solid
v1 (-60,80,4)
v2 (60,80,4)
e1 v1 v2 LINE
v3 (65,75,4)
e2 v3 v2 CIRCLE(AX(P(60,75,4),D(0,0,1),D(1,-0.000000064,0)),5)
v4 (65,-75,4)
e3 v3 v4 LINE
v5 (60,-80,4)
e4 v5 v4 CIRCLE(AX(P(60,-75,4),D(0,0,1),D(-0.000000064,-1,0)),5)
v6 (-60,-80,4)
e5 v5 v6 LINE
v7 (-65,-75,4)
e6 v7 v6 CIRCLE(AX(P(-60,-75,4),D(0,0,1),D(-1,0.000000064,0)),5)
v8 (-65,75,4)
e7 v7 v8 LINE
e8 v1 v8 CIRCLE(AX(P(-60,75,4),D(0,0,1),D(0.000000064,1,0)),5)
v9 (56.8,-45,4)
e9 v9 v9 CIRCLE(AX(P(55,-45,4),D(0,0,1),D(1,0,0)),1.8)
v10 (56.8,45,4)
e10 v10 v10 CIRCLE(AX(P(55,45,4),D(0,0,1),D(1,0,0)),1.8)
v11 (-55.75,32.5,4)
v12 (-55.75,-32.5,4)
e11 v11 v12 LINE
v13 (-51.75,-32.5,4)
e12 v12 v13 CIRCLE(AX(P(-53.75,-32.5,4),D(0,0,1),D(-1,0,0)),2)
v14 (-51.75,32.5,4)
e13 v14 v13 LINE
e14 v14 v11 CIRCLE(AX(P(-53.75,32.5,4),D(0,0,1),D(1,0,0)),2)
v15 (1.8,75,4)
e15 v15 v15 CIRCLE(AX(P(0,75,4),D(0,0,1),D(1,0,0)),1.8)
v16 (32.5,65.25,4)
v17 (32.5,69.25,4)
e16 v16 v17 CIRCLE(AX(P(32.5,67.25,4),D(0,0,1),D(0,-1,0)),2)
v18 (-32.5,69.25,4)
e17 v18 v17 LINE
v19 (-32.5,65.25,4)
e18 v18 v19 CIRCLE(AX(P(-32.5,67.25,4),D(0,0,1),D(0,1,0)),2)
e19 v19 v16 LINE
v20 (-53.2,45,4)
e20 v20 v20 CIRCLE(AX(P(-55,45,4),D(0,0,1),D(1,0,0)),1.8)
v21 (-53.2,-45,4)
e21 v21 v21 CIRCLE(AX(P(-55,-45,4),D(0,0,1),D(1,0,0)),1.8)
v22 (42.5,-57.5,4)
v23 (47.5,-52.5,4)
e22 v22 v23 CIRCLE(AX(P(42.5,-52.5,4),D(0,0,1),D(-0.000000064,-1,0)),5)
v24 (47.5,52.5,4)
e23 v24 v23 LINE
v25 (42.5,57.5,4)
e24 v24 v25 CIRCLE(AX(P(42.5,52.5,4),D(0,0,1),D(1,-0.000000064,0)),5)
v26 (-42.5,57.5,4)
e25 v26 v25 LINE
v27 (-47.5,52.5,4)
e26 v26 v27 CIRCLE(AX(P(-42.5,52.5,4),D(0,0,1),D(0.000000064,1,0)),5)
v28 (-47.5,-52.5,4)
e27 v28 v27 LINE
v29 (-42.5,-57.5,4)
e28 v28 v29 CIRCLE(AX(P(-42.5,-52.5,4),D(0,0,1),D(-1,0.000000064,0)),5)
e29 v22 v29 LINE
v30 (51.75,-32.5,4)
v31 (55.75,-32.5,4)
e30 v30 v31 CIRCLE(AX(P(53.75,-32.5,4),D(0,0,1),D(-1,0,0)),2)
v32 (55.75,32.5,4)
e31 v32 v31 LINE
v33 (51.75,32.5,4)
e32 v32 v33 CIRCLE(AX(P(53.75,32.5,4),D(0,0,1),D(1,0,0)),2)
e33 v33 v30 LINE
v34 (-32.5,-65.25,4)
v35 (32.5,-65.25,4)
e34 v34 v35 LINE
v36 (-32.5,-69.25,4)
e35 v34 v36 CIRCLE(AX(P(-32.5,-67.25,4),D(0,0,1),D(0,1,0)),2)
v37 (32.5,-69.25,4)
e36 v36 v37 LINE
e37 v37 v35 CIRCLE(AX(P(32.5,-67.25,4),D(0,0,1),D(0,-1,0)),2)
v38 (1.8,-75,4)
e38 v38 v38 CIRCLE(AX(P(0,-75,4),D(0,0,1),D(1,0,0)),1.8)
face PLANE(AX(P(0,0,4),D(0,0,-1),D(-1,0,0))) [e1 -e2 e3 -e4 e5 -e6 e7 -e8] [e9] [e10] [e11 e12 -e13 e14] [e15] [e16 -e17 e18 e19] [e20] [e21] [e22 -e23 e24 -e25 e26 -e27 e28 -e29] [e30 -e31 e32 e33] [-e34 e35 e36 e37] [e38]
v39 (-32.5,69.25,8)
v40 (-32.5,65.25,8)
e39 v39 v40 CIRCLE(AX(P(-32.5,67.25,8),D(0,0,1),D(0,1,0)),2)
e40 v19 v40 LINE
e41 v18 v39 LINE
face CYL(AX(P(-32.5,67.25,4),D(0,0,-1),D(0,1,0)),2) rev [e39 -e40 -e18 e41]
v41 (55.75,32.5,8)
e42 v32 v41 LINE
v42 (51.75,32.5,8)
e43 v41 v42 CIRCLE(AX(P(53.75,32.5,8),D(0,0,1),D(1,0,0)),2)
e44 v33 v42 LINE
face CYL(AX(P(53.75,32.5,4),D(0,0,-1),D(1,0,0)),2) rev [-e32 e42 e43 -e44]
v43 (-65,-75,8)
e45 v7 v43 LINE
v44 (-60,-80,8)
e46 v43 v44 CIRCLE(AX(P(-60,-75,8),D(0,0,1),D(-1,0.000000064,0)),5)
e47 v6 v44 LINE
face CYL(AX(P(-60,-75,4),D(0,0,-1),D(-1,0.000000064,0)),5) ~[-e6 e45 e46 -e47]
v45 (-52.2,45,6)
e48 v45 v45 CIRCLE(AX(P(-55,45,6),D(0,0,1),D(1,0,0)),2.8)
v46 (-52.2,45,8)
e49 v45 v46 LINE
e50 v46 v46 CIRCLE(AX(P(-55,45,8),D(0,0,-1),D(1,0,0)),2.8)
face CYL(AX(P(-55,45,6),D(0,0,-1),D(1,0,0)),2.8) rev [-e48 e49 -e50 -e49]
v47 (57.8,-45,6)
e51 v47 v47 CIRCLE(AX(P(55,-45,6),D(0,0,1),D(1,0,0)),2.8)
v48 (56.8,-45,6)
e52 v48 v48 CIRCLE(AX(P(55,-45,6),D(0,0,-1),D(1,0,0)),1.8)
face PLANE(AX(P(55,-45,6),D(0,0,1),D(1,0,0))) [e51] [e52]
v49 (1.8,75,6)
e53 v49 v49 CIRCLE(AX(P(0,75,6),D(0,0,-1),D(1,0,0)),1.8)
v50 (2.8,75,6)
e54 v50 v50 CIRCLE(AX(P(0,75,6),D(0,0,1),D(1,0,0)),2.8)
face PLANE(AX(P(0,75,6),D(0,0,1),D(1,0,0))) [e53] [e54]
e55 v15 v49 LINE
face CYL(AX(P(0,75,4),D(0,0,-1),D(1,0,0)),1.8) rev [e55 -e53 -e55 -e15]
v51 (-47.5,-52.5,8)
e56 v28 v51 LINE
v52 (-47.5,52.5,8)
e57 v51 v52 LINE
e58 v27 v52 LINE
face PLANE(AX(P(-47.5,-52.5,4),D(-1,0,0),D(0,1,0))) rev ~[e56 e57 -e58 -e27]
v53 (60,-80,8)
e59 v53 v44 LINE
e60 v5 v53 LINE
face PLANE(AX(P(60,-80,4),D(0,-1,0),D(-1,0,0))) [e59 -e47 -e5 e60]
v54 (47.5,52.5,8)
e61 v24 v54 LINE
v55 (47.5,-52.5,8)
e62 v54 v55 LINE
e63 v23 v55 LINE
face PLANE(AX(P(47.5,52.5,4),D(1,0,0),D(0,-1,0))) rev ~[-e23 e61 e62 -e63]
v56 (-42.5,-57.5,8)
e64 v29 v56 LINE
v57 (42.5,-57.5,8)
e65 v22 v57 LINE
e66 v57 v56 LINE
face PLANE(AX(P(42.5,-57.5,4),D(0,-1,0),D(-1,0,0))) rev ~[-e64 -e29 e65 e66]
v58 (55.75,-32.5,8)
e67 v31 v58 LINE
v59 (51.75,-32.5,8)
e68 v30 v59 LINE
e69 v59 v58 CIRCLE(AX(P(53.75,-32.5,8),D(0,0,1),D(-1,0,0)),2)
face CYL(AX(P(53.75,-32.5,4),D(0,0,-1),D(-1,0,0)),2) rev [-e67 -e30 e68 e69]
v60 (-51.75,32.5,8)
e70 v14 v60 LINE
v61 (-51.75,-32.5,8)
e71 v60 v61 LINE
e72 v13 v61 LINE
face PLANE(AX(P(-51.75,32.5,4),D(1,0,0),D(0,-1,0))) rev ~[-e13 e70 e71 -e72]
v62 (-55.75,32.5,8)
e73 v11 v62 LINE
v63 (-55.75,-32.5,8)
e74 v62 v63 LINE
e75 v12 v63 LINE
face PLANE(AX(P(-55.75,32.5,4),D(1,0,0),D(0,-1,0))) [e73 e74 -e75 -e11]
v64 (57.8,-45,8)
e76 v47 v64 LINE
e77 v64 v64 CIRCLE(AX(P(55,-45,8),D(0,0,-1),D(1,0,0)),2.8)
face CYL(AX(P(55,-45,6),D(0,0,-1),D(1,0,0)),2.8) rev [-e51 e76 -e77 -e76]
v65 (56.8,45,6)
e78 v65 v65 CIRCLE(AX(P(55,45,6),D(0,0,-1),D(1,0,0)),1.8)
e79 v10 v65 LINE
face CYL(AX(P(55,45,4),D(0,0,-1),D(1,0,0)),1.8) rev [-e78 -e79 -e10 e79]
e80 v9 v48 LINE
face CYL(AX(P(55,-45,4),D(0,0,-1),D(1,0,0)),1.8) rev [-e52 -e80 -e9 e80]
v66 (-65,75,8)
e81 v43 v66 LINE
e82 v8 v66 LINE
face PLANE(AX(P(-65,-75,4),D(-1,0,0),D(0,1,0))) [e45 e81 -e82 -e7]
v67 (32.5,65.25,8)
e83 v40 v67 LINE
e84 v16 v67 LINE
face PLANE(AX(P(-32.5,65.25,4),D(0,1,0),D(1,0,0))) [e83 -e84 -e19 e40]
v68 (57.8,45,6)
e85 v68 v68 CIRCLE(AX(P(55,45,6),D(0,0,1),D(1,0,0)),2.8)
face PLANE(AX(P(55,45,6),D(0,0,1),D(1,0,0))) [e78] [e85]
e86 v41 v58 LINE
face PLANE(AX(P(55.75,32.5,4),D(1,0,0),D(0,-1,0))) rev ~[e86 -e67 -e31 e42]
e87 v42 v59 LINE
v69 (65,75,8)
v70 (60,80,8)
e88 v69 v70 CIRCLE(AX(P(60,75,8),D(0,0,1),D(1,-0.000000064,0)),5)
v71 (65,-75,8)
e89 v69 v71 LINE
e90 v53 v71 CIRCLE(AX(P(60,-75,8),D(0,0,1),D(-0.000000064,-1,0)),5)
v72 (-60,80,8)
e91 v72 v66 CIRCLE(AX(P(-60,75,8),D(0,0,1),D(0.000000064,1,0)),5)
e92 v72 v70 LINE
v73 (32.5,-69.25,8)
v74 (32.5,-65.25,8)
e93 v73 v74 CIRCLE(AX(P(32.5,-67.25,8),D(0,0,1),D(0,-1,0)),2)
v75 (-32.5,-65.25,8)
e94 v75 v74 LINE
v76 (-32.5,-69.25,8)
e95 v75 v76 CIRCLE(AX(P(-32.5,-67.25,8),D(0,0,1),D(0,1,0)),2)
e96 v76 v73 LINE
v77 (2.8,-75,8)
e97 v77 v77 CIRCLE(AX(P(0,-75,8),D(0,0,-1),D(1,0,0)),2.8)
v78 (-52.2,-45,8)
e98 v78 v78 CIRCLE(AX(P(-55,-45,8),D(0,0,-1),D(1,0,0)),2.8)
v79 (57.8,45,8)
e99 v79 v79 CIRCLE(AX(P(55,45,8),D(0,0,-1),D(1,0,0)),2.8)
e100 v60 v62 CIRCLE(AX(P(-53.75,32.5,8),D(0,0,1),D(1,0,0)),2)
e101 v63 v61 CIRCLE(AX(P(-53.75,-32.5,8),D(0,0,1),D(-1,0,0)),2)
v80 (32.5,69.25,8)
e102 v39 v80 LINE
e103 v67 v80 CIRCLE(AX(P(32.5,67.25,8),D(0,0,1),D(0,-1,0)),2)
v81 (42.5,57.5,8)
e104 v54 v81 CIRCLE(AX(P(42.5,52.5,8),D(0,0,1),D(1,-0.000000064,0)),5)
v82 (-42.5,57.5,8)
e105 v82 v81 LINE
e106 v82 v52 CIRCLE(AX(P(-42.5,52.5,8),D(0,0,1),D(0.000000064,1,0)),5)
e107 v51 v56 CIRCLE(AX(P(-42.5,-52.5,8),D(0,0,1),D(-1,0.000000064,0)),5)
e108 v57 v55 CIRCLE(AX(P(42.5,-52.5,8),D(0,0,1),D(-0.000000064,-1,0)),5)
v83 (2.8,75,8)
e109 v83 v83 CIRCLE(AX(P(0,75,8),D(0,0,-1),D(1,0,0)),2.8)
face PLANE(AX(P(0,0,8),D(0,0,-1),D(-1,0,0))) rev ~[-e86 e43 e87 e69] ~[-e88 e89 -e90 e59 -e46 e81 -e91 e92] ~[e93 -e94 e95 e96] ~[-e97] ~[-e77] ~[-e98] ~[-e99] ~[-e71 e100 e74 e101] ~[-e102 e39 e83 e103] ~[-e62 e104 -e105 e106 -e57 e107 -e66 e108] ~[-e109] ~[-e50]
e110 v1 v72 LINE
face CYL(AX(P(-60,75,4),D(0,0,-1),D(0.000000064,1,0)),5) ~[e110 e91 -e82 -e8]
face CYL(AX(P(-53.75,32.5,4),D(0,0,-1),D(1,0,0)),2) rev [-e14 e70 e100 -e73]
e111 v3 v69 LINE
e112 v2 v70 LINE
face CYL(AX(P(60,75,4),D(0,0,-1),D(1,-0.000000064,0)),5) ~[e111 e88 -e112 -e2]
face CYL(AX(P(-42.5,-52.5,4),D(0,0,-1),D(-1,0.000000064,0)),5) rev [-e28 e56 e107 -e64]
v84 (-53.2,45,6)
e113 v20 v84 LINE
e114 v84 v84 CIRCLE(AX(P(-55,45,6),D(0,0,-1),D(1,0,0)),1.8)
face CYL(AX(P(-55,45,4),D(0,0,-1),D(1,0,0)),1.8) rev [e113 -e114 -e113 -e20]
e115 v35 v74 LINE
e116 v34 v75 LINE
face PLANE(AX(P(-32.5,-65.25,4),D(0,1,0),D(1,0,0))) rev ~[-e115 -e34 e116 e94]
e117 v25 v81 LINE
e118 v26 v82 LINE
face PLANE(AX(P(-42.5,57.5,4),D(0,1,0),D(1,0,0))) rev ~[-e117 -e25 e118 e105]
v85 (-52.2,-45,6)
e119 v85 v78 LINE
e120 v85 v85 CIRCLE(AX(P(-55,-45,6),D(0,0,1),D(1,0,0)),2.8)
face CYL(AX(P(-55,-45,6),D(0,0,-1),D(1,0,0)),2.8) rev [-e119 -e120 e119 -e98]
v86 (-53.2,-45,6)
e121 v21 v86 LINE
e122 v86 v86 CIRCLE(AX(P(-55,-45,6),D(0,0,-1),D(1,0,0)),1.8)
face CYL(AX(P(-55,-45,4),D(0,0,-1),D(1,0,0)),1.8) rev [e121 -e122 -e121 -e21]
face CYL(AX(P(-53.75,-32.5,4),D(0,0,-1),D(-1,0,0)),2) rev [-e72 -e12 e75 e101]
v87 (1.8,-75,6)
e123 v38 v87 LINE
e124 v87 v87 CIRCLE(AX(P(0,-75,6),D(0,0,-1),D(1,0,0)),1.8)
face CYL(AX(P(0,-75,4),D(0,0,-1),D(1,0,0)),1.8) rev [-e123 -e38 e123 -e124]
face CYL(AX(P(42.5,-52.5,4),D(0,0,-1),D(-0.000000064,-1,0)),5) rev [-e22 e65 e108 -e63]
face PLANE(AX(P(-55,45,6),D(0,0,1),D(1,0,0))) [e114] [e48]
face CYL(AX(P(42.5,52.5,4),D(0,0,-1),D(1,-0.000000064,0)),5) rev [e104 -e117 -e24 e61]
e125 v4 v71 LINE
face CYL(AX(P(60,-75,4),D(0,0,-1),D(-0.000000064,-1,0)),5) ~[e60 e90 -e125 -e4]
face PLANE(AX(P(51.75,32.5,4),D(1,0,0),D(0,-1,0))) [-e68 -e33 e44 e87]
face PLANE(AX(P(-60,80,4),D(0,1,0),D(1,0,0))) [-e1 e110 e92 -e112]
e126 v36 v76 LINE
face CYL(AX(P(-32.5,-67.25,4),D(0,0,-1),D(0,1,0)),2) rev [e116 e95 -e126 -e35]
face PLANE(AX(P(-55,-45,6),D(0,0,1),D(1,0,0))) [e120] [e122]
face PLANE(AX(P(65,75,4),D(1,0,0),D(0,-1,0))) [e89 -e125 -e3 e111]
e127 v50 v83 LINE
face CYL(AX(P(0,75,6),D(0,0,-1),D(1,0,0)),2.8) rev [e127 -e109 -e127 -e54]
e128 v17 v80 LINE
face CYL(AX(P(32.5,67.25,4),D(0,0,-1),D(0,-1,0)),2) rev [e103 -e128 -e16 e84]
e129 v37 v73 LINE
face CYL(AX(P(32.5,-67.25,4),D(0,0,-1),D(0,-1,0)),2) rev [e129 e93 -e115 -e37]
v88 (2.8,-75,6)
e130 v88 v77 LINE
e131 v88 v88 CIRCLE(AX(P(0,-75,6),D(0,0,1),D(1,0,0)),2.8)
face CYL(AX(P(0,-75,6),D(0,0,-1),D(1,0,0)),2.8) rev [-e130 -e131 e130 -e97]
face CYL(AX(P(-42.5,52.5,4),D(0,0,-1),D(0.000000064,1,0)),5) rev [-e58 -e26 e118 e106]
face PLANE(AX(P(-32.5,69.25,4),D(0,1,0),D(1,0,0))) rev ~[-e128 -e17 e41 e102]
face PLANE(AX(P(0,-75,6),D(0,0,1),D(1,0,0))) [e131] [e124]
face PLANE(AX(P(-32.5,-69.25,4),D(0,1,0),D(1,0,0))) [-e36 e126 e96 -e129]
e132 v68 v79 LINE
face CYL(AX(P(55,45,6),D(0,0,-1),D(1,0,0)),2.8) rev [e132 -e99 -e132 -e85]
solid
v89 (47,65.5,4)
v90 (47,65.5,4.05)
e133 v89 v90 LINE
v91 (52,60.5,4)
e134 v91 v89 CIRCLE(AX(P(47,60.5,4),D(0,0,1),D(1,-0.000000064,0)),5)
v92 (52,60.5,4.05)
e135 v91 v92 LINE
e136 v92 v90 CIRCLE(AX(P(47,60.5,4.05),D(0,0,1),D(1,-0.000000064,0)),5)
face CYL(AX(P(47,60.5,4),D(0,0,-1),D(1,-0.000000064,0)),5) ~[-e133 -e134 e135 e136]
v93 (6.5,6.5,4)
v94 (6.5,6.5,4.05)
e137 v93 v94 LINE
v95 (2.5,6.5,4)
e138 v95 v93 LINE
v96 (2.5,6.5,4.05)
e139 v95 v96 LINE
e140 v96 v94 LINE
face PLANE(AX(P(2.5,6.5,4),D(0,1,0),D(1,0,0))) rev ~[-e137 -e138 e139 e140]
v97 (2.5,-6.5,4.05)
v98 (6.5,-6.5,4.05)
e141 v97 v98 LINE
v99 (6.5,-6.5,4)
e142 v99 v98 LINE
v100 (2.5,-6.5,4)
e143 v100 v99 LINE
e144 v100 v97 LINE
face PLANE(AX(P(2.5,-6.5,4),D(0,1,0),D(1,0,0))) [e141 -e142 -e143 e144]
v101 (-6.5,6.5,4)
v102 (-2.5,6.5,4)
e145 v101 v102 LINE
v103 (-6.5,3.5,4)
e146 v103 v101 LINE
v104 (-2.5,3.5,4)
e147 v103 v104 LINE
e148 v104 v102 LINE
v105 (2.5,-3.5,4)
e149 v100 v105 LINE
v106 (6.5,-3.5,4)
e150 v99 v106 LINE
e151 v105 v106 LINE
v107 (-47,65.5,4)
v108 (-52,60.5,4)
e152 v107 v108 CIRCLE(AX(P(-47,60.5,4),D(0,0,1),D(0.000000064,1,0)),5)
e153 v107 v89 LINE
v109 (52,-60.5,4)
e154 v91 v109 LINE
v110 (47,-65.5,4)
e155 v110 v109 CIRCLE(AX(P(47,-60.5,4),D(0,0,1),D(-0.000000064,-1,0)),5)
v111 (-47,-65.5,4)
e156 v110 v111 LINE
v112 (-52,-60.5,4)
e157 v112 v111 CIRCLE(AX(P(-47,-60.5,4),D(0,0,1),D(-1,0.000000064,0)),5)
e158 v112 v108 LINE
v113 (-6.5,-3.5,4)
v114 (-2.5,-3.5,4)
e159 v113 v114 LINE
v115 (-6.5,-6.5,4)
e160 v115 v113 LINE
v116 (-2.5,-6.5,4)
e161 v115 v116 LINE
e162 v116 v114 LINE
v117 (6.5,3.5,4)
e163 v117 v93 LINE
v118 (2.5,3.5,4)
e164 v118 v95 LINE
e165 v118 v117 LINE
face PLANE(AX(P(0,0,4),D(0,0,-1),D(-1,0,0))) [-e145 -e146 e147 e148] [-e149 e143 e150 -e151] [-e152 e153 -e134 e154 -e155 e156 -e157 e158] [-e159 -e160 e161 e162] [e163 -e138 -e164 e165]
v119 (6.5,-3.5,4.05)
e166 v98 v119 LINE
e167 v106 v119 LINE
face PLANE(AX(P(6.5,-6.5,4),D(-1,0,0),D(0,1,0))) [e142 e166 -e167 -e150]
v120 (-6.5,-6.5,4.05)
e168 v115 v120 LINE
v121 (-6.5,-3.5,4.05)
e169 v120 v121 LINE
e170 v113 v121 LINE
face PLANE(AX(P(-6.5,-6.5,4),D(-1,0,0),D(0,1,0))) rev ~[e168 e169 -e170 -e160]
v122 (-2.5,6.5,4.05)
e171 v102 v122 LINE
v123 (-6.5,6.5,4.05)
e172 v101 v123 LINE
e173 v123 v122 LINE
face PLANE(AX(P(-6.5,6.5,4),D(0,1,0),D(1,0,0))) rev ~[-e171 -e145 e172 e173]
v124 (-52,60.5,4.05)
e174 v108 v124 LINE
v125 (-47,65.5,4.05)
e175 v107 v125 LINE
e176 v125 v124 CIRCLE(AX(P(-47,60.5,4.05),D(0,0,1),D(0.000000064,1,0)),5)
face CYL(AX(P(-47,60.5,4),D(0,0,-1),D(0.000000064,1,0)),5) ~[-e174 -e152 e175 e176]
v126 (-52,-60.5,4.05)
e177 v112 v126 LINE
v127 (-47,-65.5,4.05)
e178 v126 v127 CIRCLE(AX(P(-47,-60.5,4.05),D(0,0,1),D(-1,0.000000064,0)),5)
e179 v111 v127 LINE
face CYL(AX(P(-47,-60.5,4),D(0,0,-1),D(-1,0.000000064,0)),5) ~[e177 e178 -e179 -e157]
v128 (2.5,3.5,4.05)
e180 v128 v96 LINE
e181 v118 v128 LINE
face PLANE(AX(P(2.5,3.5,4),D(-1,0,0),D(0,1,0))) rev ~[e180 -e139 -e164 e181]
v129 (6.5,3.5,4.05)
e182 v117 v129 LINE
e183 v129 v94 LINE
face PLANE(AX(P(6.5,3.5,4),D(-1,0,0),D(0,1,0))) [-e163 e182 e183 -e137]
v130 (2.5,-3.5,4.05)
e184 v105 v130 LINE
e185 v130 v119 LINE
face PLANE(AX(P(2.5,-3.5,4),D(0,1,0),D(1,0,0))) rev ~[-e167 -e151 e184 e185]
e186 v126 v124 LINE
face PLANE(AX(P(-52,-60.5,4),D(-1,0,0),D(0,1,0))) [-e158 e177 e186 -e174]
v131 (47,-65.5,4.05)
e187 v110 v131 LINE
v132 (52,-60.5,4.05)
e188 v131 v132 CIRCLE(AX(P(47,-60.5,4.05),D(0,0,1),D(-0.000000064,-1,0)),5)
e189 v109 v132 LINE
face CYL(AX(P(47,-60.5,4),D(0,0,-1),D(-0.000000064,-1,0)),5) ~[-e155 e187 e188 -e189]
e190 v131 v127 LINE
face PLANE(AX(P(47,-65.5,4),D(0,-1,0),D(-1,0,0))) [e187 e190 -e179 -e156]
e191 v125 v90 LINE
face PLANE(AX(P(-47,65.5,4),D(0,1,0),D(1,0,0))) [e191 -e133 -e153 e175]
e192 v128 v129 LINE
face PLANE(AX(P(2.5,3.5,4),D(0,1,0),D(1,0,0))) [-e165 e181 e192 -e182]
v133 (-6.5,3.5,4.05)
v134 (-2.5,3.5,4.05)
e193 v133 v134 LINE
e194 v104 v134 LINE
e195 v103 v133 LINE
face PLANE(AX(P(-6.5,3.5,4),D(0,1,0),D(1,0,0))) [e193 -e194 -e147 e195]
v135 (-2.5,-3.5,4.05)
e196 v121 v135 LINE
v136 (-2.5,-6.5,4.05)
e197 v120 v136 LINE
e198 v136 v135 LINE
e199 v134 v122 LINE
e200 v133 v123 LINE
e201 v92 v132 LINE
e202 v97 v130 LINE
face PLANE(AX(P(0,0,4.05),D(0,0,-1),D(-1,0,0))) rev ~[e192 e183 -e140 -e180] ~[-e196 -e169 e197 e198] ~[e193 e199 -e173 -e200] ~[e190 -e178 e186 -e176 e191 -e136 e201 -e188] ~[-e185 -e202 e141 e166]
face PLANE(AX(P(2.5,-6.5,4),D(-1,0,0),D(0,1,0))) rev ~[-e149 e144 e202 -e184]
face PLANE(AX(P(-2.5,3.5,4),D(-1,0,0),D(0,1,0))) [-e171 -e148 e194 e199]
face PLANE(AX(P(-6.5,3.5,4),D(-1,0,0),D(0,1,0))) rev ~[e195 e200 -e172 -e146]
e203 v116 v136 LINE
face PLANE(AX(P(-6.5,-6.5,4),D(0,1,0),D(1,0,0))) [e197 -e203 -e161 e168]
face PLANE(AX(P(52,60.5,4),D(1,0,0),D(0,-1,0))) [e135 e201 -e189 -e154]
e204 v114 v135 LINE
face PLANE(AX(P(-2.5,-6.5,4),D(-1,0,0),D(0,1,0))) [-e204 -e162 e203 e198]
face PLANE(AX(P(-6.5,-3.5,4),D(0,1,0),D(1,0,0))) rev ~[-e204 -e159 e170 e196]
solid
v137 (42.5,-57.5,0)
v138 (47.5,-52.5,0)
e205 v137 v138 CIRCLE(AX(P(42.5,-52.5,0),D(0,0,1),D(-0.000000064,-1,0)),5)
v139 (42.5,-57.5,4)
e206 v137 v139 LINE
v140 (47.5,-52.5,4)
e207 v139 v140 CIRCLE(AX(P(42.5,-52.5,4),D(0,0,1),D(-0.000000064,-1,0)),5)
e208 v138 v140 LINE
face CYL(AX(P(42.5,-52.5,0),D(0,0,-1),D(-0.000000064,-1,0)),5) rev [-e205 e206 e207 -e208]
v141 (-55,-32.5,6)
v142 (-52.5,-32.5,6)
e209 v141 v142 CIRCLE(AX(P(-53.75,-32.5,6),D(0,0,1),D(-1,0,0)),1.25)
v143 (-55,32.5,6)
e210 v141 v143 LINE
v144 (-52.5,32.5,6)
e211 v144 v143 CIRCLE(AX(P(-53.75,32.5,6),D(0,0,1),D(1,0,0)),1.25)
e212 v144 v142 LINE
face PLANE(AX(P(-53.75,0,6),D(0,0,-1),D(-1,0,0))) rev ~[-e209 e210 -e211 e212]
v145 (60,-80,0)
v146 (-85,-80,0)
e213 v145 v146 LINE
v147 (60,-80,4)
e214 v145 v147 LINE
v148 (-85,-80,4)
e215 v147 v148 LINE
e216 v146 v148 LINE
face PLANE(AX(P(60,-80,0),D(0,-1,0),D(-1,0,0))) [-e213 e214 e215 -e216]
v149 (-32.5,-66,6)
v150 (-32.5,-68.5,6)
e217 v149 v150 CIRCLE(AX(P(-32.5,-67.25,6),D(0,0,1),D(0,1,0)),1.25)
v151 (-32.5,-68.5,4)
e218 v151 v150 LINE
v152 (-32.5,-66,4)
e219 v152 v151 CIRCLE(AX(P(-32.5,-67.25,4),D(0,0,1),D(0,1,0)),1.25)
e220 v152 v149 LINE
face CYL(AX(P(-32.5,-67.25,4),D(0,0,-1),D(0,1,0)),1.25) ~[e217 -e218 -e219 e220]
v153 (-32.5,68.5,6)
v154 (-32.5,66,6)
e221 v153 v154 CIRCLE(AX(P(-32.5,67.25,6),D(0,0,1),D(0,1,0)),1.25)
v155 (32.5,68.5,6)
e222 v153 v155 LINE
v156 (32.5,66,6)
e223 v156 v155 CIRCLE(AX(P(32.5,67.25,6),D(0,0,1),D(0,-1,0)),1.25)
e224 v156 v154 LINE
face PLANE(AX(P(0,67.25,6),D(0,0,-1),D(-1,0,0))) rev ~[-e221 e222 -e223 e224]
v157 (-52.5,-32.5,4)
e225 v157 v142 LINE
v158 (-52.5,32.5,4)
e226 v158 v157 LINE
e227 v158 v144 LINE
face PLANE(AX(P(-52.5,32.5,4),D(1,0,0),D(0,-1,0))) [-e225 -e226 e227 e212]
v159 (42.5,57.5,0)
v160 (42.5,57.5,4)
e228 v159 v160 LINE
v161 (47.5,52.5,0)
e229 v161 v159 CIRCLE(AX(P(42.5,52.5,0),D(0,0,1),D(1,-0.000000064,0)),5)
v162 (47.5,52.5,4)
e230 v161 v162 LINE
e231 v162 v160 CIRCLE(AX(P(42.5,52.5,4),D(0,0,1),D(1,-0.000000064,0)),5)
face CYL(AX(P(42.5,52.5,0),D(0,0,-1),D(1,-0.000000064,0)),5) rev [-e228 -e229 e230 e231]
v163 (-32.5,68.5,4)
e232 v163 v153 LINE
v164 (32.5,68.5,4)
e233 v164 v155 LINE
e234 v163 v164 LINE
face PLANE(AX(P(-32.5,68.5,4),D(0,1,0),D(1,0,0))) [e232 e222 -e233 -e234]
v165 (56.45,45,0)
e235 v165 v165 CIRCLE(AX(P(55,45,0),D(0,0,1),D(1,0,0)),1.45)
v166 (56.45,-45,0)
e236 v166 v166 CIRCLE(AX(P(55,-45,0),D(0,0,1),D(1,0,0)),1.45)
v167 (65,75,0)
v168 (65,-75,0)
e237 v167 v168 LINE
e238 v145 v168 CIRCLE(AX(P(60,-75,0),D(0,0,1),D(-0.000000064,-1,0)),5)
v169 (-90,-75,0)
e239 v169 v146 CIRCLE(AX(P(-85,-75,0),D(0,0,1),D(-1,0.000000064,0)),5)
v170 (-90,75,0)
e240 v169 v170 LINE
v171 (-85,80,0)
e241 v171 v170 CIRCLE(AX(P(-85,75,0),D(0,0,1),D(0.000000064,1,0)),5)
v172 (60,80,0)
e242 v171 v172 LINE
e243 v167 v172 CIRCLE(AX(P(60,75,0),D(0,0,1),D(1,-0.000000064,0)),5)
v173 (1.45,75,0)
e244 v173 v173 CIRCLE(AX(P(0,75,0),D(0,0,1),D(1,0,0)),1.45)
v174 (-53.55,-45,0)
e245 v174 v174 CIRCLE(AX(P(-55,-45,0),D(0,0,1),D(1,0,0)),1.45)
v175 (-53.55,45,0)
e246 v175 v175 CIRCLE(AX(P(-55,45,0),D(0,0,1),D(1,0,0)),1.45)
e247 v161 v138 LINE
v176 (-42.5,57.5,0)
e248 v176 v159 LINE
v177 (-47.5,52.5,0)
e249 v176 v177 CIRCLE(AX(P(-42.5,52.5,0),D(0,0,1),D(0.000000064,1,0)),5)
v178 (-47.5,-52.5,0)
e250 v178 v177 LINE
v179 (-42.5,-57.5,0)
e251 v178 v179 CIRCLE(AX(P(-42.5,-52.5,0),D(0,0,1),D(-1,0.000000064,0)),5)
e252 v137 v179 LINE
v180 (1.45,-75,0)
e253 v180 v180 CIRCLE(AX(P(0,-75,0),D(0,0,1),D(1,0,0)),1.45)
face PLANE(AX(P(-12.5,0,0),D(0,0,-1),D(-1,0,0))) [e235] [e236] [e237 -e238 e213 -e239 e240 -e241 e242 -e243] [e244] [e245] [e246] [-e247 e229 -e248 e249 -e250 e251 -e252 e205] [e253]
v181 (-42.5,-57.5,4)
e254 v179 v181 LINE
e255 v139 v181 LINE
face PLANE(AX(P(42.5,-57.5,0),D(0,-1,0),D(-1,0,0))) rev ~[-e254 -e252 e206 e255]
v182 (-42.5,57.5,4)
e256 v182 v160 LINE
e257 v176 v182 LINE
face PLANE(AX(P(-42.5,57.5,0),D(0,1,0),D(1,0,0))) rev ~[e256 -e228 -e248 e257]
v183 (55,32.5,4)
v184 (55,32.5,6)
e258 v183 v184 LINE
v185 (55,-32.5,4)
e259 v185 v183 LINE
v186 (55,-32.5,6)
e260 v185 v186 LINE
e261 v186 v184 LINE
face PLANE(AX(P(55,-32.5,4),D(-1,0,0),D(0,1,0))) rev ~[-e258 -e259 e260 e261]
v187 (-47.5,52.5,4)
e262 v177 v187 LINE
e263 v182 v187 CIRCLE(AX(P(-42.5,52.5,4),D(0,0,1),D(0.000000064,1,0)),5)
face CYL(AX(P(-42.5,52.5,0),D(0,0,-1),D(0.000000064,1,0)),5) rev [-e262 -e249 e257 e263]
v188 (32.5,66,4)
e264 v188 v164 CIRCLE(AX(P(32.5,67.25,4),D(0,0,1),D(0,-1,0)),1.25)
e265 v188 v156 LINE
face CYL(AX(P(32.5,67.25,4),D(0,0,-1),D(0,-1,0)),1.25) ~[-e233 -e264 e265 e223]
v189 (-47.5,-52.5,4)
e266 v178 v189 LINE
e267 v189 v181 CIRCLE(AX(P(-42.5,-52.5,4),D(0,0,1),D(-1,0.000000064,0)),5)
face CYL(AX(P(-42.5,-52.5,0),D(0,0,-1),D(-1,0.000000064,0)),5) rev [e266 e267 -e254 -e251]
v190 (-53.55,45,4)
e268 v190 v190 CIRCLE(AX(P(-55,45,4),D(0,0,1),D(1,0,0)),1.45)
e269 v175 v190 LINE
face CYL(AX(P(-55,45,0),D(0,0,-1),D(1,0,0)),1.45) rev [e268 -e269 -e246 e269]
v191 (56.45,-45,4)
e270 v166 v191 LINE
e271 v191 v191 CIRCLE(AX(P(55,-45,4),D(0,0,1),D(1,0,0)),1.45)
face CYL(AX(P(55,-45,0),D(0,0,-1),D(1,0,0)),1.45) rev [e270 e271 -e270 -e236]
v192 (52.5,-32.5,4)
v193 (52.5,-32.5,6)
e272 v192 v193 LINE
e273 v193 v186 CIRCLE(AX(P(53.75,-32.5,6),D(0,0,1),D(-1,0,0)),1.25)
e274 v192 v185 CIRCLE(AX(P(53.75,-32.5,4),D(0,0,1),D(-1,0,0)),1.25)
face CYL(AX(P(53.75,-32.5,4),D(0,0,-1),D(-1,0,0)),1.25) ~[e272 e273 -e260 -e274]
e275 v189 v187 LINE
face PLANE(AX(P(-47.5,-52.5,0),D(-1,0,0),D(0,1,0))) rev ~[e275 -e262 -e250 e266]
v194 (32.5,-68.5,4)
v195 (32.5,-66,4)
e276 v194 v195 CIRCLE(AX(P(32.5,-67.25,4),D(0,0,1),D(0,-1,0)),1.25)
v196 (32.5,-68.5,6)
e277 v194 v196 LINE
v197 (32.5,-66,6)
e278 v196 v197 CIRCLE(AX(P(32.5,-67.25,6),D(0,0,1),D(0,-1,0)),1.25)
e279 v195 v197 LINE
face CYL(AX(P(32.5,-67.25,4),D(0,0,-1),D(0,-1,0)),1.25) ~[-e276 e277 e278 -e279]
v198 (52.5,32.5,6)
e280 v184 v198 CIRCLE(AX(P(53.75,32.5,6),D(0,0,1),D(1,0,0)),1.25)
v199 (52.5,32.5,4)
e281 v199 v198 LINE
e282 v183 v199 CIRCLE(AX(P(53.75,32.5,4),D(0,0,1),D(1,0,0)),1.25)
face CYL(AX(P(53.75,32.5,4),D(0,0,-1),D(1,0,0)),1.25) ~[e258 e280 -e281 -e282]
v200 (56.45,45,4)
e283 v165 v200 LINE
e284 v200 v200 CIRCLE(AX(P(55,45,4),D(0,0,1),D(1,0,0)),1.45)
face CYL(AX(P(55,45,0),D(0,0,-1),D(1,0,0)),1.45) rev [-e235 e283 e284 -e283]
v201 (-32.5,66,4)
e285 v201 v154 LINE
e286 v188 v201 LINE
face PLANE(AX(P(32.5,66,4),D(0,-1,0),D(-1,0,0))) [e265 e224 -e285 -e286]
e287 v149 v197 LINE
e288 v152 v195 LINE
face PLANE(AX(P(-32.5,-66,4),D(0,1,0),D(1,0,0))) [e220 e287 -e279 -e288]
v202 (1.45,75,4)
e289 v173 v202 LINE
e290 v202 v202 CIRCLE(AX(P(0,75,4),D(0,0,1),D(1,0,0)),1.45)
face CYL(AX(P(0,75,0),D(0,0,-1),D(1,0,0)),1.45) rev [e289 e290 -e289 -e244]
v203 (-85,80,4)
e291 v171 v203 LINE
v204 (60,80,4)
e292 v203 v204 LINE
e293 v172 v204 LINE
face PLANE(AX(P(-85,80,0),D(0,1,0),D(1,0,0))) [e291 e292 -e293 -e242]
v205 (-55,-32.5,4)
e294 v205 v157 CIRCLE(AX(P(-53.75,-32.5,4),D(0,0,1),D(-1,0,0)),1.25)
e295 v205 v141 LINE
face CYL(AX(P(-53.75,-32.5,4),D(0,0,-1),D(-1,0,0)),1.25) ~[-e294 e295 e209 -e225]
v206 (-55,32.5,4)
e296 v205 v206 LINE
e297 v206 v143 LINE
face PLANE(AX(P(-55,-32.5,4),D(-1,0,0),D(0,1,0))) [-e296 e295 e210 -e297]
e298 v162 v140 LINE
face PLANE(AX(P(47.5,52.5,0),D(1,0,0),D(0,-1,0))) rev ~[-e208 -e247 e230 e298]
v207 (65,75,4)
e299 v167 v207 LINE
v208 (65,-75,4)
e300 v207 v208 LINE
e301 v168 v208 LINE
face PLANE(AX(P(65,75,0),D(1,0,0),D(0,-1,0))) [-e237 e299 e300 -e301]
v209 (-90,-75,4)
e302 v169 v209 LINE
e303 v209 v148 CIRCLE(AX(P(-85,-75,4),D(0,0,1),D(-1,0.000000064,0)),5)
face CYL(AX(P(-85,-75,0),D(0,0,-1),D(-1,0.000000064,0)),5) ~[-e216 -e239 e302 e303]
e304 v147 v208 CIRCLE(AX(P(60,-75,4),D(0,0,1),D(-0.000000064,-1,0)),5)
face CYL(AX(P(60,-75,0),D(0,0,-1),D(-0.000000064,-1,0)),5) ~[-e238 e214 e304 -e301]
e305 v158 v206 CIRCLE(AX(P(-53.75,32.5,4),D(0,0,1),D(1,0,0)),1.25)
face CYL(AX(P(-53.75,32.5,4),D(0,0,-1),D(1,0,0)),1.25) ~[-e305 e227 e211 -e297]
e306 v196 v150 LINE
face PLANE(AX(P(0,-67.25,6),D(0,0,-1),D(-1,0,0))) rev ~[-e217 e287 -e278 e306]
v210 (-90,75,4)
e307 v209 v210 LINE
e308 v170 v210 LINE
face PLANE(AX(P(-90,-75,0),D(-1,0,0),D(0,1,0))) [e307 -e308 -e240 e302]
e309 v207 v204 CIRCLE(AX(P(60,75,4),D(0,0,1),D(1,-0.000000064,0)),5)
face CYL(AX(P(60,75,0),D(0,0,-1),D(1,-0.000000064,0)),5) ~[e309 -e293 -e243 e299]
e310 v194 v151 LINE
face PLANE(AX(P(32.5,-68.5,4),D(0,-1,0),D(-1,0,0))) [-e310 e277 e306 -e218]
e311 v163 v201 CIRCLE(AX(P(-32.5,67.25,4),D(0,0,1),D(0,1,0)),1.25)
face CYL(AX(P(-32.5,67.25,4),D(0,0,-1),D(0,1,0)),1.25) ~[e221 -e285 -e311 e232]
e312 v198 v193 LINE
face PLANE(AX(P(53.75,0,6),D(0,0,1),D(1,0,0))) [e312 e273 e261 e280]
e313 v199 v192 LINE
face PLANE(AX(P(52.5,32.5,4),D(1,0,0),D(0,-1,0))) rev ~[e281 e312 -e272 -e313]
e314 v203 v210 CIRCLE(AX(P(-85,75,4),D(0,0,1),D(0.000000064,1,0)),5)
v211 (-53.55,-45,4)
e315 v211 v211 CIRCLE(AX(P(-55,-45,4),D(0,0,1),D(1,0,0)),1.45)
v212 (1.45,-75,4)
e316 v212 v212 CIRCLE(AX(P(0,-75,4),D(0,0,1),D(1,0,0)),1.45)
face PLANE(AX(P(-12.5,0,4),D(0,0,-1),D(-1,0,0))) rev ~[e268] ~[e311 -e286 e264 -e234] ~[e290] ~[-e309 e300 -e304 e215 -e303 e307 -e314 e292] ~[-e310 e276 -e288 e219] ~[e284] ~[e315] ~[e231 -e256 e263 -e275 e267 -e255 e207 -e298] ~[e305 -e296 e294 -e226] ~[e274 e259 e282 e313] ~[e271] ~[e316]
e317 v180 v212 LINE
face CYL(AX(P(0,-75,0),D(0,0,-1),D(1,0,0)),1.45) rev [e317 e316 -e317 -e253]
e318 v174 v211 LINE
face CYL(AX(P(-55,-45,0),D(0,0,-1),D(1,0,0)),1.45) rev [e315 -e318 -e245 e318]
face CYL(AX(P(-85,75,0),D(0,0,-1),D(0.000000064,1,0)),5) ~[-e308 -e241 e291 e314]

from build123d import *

# Parameters (mm, degrees)
SKETCH_W         = 4
SKETCH_H         = 3
EXTRUDE_DEPTH    = 0.05
EXTRUDE005_DEPTH = 2
SKETCH001_R      = 1.45
EXTRUDE001_DEPTH = 4
SKETCH004_R      = 2.8
EXTRUDE004_DEPTH = 3
SKETCH003_R      = 1.8
EXTRUDE003_DEPTH = 4


with BuildPart() as extrude_body:
    # Sketch → Extrude (new body)
    with BuildSketch(Plane.XY):
        with BuildLine():
            Line((-47, 65.5), (47, 65.5))
            ThreePointArc((52, 60.5), (50.535534, 64.035534), (47, 65.5))
            Line((52, 60.5), (52, -60.5))
            ThreePointArc((47, -65.5), (50.535534, -64.035534), (52, -60.5))
            Line((47, -65.5), (-47, -65.5))
            ThreePointArc((-52, -60.5), (-50.535534, -64.035534), (-47, -65.5))
            Line((-52, -60.5), (-52, 60.5))
            ThreePointArc((-47, 65.5), (-50.535534, 64.035534), (-52, 60.5))
        make_face()
        with Locations((-4.5, 5)):
            Rectangle(SKETCH_W, SKETCH_H, mode=Mode.SUBTRACT)
        with Locations((4.5, 5)):
            Rectangle(SKETCH_W, SKETCH_H, mode=Mode.SUBTRACT)
        with Locations((-4.5, -5)):
            Rectangle(SKETCH_W, SKETCH_H, mode=Mode.SUBTRACT)
        with Locations((4.5, -5)):
            Rectangle(SKETCH_W, SKETCH_H, mode=Mode.SUBTRACT)
    extrude(amount=EXTRUDE_DEPTH)


with BuildPart() as extrude_body_1:
    # Extrude placement: moved
    add(extrude_body.part.moved(Location((0, 0, 4))))


with BuildPart() as extrude005:
    # Sketch002 → Extrude005 (new body)
    with BuildSketch(Plane.XY):
        with BuildLine():
            Line((52.5, 32.5), (52.5, -32.5))
            ThreePointArc((52.5, -32.5), (53.75, -33.75), (55, -32.5))
            Line((55, -32.5), (55, 32.5))
            ThreePointArc((55, 32.5), (53.75, 33.75), (52.5, 32.5))
        make_face()
        with BuildLine():
            Line((-52.5, 32.5), (-52.5, -32.5))
            ThreePointArc((-55, -32.5), (-53.75, -33.75), (-52.5, -32.5))
            Line((-55, -32.5), (-55, 32.5))
            ThreePointArc((-52.5, 32.5), (-53.75, 33.75), (-55, 32.5))
        make_face()
        with BuildLine():
            Line((-32.5, 68.5), (32.5, 68.5))
            ThreePointArc((32.5, 66), (33.75, 67.25), (32.5, 68.5))
            Line((32.5, 66), (-32.5, 66))
            ThreePointArc((-32.5, 68.5), (-33.75, 67.25), (-32.5, 66))
        make_face()
        with BuildLine():
            Line((-32.5, -66), (32.5, -66))
            ThreePointArc((32.5, -68.5), (33.75, -67.25), (32.5, -66))
            Line((32.5, -68.5), (-32.5, -68.5))
            ThreePointArc((-32.5, -66), (-33.75, -67.25), (-32.5, -68.5))
        make_face()
    extrude(amount=EXTRUDE005_DEPTH)


with BuildPart() as extrude005_1:
    # Extrude005 placement: moved
    add(extrude005.part.moved(Location((0, 0, 4))))


with BuildPart() as fusion:
    # Sketch001 → Extrude001 (new body)
    with BuildSketch(Plane.XY):
        with BuildLine():
            Line((-85, 80), (60, 80))
            ThreePointArc((65, 75), (63.535534, 78.535534), (60, 80))
            Line((65, 75), (65, -75))
            ThreePointArc((60, -80), (63.535534, -78.535534), (65, -75))
            Line((60, -80), (-85, -80))
            ThreePointArc((-90, -75), (-88.535534, -78.535534), (-85, -80))
            Line((-90, -75), (-90, 75))
            ThreePointArc((-85, 80), (-88.535534, 78.535534), (-90, 75))
        make_face()
        with Locations((-55, 45)):
            Circle(SKETCH001_R, mode=Mode.SUBTRACT)
        with Locations((55, -45)):
            Circle(SKETCH001_R, mode=Mode.SUBTRACT)
        with Locations((-55, -45)):
            Circle(SKETCH001_R, mode=Mode.SUBTRACT)
        with Locations((55, 45)):
            Circle(SKETCH001_R, mode=Mode.SUBTRACT)
        with Locations((0, 75)):
            Circle(SKETCH001_R, mode=Mode.SUBTRACT)
        with Locations((0, -75)):
            Circle(SKETCH001_R, mode=Mode.SUBTRACT)
        with BuildLine():
            Line((-42.5, 57.5), (42.5, 57.5))
            ThreePointArc((47.5, 52.5), (46.035534, 56.035534), (42.5, 57.5))
            Line((47.5, 52.5), (47.5, -52.5))
            ThreePointArc((42.5, -57.5), (46.035534, -56.035534), (47.5, -52.5))
            Line((42.5, -57.5), (-42.5, -57.5))
            ThreePointArc((-47.5, -52.5), (-46.035534, -56.035534), (-42.5, -57.5))
            Line((-47.5, -52.5), (-47.5, 52.5))
            ThreePointArc((-42.5, 57.5), (-46.035534, 56.035534), (-47.5, 52.5))
        make_face(mode=Mode.SUBTRACT)
    extrude(amount=EXTRUDE001_DEPTH)

    # Fusion: union Extrude005
    add(extrude005_1.part)


with BuildPart() as extrude004:
    # Sketch004 → Extrude004 (new body)
    with BuildSketch(Plane.XY):
        with Locations((-55, 45)):
            Circle(SKETCH004_R)
        with Locations((55, -45)):
            Circle(SKETCH004_R)
        with Locations((-55, -45)):
            Circle(SKETCH004_R)
        with Locations((55, 45)):
            Circle(SKETCH004_R)
        with Locations((0, -75)):
            Circle(SKETCH004_R)
        with Locations((0, 75)):
            Circle(SKETCH004_R)
    extrude(amount=EXTRUDE004_DEPTH)


with BuildPart() as extrude004_1:
    # Extrude004 placement: moved
    add(extrude004.part.moved(Location((0, 0, 6))))


with BuildPart() as cut:
    # Sketch003 → Extrude003 (new body)
    with BuildSketch(Plane.XY):
        with BuildLine():
            Line((-60, 80), (60, 80))
            ThreePointArc((65, 75), (63.535534, 78.535534), (60, 80))
            Line((65, 75), (65, -75))
            ThreePointArc((60, -80), (63.535534, -78.535534), (65, -75))
            Line((60, -80), (-60, -80))
            ThreePointArc((-65, -75), (-63.535534, -78.535534), (-60, -80))
            Line((-65, -75), (-65, 75))
            ThreePointArc((-60, 80), (-63.535534, 78.535534), (-65, 75))
        make_face()
        with Locations((-55, 45)):
            Circle(SKETCH003_R, mode=Mode.SUBTRACT)
        with Locations((55, -45)):
            Circle(SKETCH003_R, mode=Mode.SUBTRACT)
        with Locations((-55, -45)):
            Circle(SKETCH003_R, mode=Mode.SUBTRACT)
        with Locations((55, 45)):
            Circle(SKETCH003_R, mode=Mode.SUBTRACT)
        with Locations((0, -75)):
            Circle(SKETCH003_R, mode=Mode.SUBTRACT)
        with Locations((0, 75)):
            Circle(SKETCH003_R, mode=Mode.SUBTRACT)
        with BuildLine():
            Line((-42.5, 57.5), (42.5, 57.5))
            ThreePointArc((47.5, 52.5), (46.035534, 56.035534), (42.5, 57.5))
            Line((47.5, 52.5), (47.5, -52.5))
            ThreePointArc((42.5, -57.5), (46.035534, -56.035534), (47.5, -52.5))
            Line((42.5, -57.5), (-42.5, -57.5))
            ThreePointArc((-47.5, -52.5), (-46.035534, -56.035534), (-42.5, -57.5))
            Line((-47.5, -52.5), (-47.5, 52.5))
            ThreePointArc((-42.5, 57.5), (-46.035534, 56.035534), (-47.5, 52.5))
        make_face(mode=Mode.SUBTRACT)
        with BuildLine():
            ThreePointArc((-51.75, 32.5), (-53.75, 34.5), (-55.75, 32.5))
            Line((-55.75, 32.5), (-55.75, -32.5))
            ThreePointArc((-55.75, -32.5), (-53.75, -34.5), (-51.75, -32.5))
            Line((-51.75, 32.5), (-51.75, -32.5))
        make_face(mode=Mode.SUBTRACT)
        with BuildLine():
            ThreePointArc((-32.5, -65.25), (-34.5, -67.25), (-32.5, -69.25))
            Line((-32.5, -69.25), (32.5, -69.25))
            ThreePointArc((32.5, -69.25), (34.5, -67.25), (32.5, -65.25))
            Line((-32.5, -65.25), (32.5, -65.25))
        make_face(mode=Mode.SUBTRACT)
        with BuildLine():
            ThreePointArc((55.75, 32.5), (53.75, 34.5), (51.75, 32.5))
            Line((51.75, 32.5), (51.75, -32.5))
            ThreePointArc((51.75, -32.5), (53.75, -34.5), (55.75, -32.5))
            Line((55.75, 32.5), (55.75, -32.5))
        make_face(mode=Mode.SUBTRACT)
        with BuildLine():
            ThreePointArc((-32.5, 69.25), (-34.5, 67.25), (-32.5, 65.25))
            Line((-32.5, 65.25), (32.5, 65.25))
            ThreePointArc((32.5, 65.25), (34.5, 67.25), (32.5, 69.25))
            Line((-32.5, 69.25), (32.5, 69.25))
        make_face(mode=Mode.SUBTRACT)
    extrude(amount=EXTRUDE003_DEPTH)


with BuildPart() as cut_1:
    # Extrude003 placement: moved
    add(cut.part.moved(Location((0, 0, 4))))

    # Cut: cut Extrude004
    add(extrude004_1.part, mode=Mode.SUBTRACT)


solid = Compound([extrude_body_1.part, fusion.part, cut_1.part])
